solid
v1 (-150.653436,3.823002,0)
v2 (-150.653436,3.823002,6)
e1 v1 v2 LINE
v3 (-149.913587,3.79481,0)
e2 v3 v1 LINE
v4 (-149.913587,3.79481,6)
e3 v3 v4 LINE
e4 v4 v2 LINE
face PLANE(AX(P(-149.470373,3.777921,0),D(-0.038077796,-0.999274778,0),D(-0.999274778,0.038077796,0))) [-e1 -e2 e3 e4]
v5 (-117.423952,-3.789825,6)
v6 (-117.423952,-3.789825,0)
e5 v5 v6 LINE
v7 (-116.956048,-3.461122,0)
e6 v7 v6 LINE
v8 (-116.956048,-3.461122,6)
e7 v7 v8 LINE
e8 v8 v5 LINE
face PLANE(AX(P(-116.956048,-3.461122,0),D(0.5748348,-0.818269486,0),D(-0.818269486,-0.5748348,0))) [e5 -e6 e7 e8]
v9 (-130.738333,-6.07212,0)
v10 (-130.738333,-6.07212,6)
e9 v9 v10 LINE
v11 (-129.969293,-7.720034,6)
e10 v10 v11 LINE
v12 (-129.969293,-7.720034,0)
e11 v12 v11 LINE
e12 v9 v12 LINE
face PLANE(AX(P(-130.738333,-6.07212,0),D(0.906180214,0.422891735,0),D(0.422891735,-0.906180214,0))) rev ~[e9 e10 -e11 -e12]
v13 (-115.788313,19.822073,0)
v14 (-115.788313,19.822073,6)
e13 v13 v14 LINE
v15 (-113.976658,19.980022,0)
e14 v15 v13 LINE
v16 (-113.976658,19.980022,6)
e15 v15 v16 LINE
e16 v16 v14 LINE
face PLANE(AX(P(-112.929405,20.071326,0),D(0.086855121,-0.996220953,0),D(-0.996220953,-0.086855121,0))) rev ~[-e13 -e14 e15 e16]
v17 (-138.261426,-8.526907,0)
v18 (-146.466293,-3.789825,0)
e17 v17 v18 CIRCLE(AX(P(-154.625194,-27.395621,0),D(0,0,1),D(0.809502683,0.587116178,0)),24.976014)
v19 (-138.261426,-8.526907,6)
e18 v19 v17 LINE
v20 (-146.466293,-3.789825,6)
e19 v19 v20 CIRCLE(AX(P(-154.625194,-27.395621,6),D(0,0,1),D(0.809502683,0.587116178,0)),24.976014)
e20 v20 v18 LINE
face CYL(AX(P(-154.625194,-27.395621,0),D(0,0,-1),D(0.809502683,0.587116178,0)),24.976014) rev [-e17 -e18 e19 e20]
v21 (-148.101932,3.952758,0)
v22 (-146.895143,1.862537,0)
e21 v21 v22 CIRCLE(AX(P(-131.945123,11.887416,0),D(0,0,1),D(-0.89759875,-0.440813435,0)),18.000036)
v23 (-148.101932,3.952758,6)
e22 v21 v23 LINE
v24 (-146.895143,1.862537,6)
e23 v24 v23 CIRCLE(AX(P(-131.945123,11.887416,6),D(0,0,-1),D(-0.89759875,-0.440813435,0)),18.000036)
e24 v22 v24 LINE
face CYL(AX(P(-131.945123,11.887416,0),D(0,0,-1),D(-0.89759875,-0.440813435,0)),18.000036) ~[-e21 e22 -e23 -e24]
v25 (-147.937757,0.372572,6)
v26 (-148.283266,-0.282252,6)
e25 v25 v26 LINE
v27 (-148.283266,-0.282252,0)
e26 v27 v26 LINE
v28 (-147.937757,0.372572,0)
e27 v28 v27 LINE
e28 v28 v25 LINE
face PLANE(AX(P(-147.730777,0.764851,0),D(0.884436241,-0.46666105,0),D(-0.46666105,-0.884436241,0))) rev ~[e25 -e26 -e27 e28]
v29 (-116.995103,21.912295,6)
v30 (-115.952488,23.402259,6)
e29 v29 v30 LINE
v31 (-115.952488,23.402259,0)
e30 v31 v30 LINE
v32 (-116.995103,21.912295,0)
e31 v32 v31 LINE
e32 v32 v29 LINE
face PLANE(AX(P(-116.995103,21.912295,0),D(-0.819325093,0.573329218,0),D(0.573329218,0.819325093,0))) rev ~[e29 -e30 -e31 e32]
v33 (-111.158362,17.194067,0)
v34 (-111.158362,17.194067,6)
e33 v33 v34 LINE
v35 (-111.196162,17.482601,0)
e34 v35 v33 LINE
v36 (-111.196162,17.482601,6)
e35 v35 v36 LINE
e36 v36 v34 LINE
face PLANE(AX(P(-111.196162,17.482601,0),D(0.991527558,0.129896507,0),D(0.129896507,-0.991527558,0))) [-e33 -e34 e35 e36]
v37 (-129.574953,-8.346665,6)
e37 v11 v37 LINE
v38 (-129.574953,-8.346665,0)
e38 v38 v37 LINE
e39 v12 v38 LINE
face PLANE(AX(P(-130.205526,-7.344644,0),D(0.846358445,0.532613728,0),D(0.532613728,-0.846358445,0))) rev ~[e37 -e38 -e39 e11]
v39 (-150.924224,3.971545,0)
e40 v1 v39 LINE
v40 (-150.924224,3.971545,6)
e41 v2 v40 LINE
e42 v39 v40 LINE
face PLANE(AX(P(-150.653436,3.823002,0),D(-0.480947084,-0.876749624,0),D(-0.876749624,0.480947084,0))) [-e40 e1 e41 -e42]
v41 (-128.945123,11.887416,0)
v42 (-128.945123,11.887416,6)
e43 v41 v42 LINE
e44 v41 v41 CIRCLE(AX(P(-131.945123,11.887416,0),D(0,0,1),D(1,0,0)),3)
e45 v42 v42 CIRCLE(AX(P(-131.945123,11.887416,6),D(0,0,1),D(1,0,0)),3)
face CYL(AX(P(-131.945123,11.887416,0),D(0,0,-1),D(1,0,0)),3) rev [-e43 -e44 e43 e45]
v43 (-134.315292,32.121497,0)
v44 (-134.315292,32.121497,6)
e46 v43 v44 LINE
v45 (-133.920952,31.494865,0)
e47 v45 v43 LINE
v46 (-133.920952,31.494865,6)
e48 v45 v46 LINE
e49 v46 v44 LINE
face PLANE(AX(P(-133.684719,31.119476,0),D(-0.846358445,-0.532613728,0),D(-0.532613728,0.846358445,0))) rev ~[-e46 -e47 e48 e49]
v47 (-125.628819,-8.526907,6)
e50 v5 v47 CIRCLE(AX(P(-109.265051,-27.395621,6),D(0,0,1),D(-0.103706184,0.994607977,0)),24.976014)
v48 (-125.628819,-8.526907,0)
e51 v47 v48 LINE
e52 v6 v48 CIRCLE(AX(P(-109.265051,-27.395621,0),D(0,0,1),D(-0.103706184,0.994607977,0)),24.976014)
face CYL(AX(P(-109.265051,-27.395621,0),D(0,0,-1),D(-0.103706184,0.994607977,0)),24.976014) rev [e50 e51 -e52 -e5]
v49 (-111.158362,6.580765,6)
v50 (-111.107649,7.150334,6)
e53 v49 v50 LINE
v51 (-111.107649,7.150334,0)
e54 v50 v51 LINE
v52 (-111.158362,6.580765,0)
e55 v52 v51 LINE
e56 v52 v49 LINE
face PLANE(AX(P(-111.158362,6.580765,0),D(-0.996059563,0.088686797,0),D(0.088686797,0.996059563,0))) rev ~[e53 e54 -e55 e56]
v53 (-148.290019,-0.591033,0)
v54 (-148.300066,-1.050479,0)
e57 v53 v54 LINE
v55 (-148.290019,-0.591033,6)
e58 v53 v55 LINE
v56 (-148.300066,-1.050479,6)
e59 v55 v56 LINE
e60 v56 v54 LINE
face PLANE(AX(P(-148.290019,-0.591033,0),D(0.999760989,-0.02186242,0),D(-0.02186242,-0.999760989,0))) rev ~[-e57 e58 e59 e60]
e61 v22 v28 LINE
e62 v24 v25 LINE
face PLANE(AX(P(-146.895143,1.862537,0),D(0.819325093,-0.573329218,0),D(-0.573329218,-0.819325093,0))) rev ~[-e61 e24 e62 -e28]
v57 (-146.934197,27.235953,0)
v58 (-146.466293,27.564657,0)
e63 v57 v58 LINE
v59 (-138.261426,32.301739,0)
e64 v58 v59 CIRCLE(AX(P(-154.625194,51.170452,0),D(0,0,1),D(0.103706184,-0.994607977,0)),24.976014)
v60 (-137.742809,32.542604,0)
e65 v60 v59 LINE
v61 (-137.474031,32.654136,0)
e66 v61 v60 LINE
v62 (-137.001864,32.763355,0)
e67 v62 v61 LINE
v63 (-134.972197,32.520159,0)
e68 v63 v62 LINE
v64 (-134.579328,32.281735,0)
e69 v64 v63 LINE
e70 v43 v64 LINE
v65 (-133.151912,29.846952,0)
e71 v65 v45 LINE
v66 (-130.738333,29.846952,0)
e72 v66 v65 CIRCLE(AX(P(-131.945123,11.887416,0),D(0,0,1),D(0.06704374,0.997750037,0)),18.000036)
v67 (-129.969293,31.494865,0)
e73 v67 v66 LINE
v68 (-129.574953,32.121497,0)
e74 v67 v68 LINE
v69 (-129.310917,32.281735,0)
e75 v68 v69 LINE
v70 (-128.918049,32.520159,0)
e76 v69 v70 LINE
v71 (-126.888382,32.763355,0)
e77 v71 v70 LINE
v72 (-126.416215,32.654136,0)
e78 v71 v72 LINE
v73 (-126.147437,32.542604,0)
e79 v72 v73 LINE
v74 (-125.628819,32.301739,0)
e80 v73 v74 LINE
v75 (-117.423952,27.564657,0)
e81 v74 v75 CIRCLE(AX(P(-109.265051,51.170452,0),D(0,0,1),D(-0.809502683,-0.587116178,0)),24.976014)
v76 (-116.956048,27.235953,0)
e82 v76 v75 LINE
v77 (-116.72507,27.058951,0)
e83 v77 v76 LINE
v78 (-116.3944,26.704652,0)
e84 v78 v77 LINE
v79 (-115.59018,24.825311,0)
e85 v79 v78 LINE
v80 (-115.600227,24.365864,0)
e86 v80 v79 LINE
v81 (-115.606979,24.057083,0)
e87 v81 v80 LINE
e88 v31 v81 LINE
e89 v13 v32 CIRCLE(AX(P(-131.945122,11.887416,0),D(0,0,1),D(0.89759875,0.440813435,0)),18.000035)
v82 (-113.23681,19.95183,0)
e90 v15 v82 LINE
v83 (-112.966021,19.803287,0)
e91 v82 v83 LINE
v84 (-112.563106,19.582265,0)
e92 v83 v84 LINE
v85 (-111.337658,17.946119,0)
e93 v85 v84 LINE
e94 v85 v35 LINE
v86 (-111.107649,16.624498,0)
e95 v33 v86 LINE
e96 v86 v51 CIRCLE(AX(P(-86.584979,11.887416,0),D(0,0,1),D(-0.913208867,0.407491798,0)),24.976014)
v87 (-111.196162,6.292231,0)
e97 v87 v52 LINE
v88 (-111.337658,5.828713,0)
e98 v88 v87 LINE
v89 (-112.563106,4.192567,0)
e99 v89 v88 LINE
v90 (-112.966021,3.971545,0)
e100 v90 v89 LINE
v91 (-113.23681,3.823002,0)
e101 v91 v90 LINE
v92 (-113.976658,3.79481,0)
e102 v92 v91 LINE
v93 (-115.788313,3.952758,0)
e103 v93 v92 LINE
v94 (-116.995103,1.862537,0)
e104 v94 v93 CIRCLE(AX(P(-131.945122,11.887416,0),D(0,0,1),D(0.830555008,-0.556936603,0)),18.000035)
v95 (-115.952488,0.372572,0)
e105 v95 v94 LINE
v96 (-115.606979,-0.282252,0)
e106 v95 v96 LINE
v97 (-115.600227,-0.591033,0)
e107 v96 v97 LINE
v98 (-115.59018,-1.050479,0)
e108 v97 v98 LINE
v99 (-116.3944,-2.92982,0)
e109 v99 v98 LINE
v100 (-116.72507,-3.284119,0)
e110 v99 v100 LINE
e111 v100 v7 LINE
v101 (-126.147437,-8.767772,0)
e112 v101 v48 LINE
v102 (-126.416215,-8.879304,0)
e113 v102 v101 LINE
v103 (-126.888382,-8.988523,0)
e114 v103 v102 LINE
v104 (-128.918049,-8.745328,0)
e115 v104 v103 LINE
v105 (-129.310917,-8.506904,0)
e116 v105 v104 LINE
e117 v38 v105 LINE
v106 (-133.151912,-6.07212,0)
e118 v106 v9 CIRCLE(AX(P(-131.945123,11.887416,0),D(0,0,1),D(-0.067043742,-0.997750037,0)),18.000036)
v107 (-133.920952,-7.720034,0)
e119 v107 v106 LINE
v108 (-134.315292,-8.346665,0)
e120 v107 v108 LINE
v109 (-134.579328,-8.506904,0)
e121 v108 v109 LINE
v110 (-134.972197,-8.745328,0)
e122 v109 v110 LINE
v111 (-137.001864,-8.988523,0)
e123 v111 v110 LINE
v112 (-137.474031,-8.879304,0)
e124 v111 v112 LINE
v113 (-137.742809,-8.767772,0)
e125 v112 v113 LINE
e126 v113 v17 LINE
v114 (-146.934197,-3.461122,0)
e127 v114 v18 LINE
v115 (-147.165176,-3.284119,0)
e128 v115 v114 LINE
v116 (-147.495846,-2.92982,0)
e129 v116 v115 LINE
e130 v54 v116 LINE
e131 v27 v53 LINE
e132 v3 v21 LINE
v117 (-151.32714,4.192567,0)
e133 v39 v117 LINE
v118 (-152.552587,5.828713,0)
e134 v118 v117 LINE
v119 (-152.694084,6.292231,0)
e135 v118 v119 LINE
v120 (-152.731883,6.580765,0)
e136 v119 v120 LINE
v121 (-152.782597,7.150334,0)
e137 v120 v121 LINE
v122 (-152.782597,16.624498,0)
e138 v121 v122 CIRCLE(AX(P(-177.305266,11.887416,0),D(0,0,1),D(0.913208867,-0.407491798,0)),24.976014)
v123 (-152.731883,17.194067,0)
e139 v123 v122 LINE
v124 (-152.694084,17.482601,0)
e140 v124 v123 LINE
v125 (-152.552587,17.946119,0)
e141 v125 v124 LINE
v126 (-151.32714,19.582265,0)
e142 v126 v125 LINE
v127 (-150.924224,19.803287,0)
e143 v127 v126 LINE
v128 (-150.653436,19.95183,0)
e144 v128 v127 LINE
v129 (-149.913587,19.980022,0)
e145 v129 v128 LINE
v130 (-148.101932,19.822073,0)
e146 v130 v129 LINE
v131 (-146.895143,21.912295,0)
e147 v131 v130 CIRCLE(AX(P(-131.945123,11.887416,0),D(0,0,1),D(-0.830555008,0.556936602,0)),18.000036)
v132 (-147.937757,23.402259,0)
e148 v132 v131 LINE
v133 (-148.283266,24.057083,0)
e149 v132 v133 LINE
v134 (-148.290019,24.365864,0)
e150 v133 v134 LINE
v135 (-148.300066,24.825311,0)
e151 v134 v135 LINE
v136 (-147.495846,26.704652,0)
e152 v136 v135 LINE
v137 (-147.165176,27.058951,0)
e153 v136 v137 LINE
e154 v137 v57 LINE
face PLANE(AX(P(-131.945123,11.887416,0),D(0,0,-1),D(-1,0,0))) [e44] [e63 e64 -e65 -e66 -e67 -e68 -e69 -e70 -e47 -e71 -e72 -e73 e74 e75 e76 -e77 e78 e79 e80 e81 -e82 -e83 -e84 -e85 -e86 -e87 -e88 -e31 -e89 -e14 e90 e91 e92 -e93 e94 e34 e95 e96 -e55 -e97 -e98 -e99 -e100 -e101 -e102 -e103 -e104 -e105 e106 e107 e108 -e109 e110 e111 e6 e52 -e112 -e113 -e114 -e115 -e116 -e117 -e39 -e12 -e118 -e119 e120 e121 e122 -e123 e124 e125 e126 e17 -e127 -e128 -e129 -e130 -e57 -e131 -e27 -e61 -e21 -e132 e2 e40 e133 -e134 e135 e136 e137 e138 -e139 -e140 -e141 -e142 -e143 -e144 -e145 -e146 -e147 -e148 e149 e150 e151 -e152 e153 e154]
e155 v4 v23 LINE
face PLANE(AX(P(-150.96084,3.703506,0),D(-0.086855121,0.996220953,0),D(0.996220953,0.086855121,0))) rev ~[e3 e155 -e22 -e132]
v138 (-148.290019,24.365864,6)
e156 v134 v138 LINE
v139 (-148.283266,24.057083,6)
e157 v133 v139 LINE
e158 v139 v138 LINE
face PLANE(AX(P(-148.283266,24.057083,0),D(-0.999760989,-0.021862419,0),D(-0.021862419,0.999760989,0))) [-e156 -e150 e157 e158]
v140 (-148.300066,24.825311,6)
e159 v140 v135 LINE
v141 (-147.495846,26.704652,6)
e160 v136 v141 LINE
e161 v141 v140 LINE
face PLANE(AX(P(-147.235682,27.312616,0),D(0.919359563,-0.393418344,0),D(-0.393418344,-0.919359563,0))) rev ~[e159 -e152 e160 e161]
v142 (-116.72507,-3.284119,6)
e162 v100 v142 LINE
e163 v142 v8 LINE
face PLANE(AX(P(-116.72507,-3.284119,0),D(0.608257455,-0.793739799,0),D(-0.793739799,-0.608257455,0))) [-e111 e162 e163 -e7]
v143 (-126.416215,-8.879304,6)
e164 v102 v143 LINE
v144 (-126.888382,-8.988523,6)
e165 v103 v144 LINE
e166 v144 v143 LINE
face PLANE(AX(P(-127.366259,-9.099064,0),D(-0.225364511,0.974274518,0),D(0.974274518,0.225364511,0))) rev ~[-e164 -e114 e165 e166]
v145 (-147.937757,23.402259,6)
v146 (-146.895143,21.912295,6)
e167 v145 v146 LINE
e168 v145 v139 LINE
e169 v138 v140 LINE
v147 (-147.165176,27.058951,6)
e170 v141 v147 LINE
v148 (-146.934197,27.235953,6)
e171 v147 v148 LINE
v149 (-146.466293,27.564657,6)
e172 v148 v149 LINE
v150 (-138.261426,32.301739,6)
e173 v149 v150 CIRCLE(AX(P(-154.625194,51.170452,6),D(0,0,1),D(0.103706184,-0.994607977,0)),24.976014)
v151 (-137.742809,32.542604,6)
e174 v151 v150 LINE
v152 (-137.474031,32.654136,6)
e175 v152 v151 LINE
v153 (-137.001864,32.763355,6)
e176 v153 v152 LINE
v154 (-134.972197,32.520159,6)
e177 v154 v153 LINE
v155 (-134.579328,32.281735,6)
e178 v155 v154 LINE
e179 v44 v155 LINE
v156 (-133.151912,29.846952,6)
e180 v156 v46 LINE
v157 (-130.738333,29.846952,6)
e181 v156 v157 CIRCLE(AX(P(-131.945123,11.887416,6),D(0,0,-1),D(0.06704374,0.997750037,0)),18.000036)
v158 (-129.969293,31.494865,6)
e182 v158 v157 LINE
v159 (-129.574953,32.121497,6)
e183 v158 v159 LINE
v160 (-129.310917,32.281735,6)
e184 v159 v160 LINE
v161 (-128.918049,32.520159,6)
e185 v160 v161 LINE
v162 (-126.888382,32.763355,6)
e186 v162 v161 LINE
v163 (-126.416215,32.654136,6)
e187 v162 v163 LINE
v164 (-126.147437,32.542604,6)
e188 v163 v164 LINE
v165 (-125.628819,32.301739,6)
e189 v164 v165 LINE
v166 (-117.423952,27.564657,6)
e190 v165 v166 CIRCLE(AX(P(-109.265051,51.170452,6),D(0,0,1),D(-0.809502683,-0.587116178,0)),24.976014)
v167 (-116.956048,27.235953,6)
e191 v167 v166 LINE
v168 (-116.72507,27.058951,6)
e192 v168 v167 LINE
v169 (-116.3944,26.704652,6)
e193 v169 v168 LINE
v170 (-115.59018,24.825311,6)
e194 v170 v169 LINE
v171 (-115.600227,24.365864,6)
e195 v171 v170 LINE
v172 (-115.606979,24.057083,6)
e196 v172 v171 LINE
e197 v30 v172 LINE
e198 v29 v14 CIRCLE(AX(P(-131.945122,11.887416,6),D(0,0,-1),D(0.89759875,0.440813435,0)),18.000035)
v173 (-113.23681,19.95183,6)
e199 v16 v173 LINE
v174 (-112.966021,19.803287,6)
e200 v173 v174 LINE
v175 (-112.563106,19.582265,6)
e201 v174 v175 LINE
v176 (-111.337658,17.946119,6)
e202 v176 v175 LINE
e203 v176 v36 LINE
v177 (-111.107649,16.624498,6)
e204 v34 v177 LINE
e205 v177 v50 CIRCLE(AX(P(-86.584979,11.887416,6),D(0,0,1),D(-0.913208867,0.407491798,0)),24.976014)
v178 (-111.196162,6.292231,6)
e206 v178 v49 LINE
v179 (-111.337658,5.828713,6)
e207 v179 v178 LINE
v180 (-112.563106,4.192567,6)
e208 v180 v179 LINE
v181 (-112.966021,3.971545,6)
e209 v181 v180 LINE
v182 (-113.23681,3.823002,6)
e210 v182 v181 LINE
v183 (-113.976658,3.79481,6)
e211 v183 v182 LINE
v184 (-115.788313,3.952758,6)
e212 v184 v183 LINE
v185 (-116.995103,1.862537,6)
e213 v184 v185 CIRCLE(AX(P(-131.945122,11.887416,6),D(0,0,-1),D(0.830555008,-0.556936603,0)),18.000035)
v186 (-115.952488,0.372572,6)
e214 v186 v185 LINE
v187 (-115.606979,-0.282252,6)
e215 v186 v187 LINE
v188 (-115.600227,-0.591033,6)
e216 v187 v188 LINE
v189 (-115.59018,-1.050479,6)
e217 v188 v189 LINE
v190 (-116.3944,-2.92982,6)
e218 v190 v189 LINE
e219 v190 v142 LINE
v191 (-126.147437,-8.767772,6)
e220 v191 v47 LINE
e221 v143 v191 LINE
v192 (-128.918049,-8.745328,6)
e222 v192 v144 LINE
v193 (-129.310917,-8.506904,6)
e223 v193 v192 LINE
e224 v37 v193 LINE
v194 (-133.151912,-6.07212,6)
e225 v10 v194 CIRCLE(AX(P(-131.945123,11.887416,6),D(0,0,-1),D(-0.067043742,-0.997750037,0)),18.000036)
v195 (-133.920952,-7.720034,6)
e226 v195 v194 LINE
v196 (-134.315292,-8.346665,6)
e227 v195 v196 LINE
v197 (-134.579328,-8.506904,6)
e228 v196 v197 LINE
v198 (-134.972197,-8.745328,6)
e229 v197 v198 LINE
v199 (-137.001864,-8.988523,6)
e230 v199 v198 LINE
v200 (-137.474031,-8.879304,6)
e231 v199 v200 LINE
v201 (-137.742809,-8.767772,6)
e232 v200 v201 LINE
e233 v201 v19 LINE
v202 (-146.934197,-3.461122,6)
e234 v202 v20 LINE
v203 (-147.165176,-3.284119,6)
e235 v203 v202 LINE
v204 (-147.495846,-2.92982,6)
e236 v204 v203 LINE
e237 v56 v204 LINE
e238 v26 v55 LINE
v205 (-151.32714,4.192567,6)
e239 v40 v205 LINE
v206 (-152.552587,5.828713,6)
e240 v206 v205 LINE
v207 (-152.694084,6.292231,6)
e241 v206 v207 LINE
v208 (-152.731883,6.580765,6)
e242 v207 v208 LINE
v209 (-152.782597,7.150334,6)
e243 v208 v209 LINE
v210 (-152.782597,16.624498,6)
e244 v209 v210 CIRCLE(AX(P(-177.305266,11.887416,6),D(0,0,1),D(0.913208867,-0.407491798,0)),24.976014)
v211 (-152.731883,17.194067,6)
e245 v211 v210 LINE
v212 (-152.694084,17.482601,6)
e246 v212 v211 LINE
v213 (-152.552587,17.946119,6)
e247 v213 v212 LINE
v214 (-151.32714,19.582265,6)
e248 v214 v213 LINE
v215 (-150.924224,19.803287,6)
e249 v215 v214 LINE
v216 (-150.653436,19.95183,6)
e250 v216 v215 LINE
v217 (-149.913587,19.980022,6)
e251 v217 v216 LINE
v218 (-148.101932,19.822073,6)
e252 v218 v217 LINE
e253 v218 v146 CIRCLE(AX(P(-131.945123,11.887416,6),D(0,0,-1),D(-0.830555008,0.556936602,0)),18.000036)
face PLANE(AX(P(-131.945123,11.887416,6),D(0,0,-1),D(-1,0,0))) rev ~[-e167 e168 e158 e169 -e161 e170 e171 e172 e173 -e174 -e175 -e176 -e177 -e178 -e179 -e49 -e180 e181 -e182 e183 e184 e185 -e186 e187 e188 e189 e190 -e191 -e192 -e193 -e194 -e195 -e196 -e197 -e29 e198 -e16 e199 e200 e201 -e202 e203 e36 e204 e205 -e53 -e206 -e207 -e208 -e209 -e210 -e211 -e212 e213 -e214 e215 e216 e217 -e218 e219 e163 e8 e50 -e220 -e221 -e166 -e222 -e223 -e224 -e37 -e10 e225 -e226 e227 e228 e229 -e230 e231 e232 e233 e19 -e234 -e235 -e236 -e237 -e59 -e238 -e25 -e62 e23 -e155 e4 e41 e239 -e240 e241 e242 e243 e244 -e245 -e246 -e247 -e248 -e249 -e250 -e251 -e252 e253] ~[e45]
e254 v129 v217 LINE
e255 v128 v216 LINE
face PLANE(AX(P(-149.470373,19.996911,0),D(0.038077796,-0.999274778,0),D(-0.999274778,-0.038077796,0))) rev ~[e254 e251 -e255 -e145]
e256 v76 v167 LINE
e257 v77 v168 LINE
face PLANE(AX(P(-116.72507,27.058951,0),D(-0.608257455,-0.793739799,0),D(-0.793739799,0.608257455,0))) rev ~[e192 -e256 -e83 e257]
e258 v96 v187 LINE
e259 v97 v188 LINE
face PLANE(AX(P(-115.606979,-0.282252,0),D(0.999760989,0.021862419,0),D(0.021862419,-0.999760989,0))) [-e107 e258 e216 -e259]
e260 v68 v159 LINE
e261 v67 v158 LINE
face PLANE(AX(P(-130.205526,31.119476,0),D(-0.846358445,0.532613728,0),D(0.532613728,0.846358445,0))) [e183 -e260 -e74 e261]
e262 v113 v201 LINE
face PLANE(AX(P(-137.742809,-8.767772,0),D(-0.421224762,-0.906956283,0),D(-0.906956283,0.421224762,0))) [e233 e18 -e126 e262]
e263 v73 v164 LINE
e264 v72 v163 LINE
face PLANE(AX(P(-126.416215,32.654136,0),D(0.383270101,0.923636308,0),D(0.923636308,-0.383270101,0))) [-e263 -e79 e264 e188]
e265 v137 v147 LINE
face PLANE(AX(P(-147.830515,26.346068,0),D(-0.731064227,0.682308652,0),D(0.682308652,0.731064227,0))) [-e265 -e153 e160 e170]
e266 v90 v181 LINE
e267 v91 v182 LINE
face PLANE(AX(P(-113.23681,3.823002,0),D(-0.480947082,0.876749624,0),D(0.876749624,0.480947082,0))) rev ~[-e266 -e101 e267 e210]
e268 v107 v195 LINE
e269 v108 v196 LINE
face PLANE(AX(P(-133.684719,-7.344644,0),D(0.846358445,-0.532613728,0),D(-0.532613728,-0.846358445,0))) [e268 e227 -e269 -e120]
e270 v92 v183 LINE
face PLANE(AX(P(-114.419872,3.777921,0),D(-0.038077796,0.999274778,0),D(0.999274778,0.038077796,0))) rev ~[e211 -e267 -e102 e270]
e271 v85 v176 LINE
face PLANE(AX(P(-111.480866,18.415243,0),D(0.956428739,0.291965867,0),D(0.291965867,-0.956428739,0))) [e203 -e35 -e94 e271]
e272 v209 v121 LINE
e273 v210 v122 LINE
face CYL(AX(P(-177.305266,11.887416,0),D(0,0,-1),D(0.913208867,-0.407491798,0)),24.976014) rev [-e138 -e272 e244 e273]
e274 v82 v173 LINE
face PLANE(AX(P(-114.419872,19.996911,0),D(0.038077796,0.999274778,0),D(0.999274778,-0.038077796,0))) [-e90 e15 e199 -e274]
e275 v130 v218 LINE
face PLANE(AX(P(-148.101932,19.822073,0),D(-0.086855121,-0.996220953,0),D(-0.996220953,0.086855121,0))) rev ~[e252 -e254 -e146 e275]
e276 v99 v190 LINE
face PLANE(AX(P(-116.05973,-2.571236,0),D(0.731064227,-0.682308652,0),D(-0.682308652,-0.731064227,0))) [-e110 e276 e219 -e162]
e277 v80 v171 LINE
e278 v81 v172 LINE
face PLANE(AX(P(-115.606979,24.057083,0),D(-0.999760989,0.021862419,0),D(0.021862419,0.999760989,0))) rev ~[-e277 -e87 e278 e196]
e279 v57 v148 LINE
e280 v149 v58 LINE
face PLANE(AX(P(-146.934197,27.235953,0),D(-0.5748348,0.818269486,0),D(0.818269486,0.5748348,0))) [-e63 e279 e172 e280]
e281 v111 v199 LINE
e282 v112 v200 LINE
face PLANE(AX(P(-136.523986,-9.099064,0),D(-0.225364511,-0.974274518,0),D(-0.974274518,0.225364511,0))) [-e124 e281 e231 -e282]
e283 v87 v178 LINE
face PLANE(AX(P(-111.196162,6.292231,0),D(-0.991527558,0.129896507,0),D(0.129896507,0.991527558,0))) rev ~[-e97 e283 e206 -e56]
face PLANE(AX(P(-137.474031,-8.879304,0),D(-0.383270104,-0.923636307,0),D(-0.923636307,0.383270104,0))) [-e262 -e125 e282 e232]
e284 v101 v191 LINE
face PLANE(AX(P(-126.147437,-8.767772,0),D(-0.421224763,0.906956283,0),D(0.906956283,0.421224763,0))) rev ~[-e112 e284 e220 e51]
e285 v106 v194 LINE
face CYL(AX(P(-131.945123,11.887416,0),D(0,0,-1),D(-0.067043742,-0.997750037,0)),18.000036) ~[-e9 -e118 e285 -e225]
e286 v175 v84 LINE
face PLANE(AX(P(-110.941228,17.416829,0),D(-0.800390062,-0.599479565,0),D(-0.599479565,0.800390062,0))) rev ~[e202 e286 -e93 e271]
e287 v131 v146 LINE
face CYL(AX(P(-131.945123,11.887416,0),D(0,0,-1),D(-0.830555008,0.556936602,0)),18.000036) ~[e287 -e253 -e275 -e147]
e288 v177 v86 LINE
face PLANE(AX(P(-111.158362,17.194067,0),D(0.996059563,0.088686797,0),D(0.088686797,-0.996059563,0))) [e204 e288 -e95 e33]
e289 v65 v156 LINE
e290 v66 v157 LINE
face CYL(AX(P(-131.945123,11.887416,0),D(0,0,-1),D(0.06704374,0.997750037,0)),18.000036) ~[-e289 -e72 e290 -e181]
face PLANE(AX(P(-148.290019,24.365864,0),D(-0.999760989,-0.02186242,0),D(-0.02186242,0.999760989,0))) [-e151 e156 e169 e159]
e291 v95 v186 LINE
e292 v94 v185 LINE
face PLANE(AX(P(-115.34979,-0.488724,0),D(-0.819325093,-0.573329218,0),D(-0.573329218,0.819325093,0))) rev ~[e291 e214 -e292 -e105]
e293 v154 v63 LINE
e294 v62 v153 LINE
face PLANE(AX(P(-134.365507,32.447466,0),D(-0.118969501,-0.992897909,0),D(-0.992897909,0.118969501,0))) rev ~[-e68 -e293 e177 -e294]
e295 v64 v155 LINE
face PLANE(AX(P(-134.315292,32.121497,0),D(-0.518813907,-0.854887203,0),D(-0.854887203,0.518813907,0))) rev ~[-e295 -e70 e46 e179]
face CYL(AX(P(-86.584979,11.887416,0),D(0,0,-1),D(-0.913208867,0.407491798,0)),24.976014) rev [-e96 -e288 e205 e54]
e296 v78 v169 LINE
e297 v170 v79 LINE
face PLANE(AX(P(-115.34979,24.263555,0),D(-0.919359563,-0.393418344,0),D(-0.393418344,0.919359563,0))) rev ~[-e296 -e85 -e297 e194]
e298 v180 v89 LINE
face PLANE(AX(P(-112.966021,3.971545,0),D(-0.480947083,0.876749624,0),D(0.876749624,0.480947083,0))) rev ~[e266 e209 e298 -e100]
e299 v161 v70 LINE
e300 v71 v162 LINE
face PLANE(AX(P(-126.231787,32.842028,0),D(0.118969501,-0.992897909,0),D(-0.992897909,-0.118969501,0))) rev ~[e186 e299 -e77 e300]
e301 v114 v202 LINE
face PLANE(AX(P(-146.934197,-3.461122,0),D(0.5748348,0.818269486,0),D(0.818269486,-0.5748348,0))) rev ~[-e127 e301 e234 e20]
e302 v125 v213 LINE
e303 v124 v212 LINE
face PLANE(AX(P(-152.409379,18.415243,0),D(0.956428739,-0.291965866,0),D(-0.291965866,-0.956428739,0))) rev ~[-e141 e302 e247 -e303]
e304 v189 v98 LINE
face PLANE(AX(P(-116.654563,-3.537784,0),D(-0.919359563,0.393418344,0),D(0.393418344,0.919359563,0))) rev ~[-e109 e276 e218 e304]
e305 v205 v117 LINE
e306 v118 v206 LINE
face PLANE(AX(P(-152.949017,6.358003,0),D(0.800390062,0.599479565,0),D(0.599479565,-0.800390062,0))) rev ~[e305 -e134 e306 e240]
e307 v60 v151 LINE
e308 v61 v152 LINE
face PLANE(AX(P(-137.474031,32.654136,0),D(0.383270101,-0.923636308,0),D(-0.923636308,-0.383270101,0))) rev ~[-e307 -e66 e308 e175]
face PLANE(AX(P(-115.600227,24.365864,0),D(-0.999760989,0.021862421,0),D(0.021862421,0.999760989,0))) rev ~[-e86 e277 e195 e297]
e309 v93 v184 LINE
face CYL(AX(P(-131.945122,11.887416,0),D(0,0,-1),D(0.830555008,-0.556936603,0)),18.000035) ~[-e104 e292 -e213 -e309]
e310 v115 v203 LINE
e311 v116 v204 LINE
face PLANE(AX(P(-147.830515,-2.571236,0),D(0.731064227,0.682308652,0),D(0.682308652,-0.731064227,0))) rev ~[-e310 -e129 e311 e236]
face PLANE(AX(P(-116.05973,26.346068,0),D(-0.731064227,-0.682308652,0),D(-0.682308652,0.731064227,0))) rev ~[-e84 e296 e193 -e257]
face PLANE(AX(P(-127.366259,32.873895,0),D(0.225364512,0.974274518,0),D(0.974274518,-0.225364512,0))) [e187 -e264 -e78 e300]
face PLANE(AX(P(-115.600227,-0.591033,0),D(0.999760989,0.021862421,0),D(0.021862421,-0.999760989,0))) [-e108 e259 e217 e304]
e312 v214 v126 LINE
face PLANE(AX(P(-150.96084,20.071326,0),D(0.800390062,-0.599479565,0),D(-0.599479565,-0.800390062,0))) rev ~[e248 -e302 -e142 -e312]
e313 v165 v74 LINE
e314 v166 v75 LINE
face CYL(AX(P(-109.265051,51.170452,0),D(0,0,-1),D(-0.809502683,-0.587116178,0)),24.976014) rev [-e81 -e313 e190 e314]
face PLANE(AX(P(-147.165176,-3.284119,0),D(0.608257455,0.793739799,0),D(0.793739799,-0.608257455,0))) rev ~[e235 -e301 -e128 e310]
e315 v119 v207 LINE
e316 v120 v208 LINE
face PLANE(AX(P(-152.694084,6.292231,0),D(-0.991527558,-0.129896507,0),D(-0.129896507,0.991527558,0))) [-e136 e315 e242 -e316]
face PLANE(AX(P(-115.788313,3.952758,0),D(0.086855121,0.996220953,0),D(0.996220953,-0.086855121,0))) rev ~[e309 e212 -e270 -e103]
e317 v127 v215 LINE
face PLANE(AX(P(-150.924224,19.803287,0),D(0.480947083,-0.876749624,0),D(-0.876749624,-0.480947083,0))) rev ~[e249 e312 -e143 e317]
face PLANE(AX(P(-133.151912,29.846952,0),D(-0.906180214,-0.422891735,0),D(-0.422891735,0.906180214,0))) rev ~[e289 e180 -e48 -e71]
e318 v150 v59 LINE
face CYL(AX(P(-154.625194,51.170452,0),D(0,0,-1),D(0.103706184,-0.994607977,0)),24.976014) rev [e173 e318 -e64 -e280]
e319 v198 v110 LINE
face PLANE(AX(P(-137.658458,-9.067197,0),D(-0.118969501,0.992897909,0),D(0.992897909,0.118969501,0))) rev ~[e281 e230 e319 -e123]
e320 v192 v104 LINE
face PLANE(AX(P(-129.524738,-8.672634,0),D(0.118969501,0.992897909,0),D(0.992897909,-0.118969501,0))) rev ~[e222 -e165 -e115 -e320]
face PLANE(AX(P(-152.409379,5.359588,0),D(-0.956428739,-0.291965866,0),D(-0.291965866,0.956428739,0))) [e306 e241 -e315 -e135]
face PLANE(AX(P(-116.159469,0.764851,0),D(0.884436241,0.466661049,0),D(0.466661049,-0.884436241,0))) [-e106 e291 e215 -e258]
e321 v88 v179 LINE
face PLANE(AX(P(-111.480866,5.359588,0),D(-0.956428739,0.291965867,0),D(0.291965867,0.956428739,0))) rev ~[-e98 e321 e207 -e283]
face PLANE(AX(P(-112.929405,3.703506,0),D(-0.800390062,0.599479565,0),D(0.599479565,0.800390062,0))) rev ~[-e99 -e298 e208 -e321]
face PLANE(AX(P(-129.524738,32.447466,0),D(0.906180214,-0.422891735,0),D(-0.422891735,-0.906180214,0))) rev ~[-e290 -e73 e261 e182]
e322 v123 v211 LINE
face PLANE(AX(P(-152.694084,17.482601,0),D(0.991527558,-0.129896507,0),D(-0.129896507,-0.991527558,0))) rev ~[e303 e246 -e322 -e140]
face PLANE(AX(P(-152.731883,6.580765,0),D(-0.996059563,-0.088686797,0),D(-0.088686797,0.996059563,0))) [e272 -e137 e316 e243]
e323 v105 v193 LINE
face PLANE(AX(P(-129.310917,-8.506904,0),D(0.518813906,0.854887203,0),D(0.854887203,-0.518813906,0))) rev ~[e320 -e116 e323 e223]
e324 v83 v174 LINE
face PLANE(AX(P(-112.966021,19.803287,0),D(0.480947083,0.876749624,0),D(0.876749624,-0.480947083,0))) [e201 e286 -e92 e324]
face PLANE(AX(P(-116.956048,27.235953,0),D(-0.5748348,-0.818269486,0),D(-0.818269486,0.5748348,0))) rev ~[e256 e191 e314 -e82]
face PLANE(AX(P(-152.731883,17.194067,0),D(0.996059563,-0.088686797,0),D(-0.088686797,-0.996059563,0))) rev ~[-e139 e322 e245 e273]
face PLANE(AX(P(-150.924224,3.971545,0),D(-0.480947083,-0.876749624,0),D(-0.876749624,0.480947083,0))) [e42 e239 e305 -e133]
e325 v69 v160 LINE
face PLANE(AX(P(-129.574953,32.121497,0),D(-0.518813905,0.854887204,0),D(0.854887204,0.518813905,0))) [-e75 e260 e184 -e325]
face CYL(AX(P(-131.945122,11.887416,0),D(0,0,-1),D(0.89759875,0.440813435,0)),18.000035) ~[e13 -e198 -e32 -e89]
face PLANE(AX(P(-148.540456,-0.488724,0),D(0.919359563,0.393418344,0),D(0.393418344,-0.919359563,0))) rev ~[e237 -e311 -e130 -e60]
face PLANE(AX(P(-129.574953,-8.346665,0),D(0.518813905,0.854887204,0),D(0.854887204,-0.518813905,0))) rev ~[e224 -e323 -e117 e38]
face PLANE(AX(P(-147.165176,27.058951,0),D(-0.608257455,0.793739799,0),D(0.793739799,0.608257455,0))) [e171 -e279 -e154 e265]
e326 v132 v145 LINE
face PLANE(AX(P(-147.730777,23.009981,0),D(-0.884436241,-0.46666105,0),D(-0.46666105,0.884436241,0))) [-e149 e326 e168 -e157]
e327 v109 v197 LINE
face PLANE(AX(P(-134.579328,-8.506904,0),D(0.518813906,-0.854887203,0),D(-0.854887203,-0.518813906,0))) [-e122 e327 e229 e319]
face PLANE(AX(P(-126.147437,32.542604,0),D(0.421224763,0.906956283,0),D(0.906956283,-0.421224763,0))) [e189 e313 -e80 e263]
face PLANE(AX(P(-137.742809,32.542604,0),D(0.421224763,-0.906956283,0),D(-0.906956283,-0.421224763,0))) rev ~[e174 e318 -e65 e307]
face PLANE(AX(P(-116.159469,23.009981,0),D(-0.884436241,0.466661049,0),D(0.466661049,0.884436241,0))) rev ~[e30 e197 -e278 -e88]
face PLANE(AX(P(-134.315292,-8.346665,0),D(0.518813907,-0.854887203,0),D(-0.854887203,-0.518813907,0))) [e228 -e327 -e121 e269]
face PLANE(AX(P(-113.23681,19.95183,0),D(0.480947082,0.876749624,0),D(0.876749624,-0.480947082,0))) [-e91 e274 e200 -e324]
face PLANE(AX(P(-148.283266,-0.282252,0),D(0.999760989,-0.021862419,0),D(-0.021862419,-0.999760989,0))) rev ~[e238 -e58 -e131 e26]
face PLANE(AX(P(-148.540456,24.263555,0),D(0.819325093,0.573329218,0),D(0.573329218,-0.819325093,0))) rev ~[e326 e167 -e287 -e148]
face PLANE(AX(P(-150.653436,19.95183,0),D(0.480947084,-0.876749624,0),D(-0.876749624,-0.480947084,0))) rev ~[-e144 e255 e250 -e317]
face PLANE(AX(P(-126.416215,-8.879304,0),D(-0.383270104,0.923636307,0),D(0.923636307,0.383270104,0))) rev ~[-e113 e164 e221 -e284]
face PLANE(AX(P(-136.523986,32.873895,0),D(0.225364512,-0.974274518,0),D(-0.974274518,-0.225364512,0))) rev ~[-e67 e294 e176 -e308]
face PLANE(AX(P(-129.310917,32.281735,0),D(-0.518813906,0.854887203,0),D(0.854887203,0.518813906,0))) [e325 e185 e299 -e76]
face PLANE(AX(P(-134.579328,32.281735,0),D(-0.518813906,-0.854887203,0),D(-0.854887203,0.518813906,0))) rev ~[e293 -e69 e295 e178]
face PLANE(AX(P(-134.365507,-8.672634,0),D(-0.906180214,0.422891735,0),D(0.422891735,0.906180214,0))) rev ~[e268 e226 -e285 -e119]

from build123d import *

# Parameters (mm, degrees)
SKETCH1_R           = 3
BOSS_EXTRUDE2_DEPTH = 6
CUT_EXTRUDE1_DEPTH  = 7
CUT_EXTRUDE2_DEPTH  = 7


with BuildPart() as part:
    # Sketch1 → Boss-Extrude2 (new body)
    with BuildSketch(Plane.XY):
        with BuildLine():
            Line((-129.483201213, -12.731798863), (-129.756040866, -10.003402327))
            ThreePointArc((-129.756040866, -10.003402327), (-131.945122685, -10.112584142), (-134.134204503, -10.003402327))
            Line((-134.134204503, -10.003402327), (-134.407044157, -12.731798863))
            ThreePointArc((-134.407044157, -12.731798863), (-142.137187462, -5.76575817), (-152.035027318, -2.554278039))
            Line((-152.035027318, -2.554278039), (-149.808586433, -0.9537937))
            ThreePointArc((-149.808586433, -0.9537937), (-150.997681568, 0.887415858), (-151.997668251, 2.837807232))
            Line((-151.997668251, 2.837807232), (-154.49694879, 1.709895035))
            ThreePointArc((-154.49694879, 1.709895035), (-152.329252239, 11.887415858), (-154.49694879, 22.064936682))
            Line((-154.49694879, 22.064936682), (-151.997668251, 20.937024485))
            ThreePointArc((-151.997668251, 20.937024485), (-150.997681568, 22.887415858), (-149.808586433, 24.728625416))
            Line((-149.808586433, 24.728625416), (-152.035027318, 26.329109756))
            ThreePointArc((-152.035027318, 26.329109756), (-142.137187462, 29.540589886), (-134.407044157, 36.506630579))
            Line((-134.407044157, 36.506630579), (-134.134204503, 33.778234043))
            ThreePointArc((-134.134204503, 33.778234043), (-131.945122685, 33.887415858), (-129.756040866, 33.778234043))
            Line((-129.756040866, 33.778234043), (-129.483201213, 36.506630579))
            ThreePointArc((-129.483201213, 36.506630579), (-121.753057907, 29.540589886), (-111.855218051, 26.329109756))
            Line((-111.855218051, 26.329109756), (-114.081658936, 24.728625416))
            ThreePointArc((-114.081658936, 24.728625416), (-112.892563801, 22.887415858), (-111.892577118, 20.937024485))
            Line((-111.892577118, 20.937024485), (-109.393296579, 22.064936682))
            ThreePointArc((-109.393296579, 22.064936682), (-111.56099313, 11.887415858), (-109.393296579, 1.709895035))
            Line((-109.393296579, 1.709895035), (-111.892577118, 2.837807232))
            ThreePointArc((-111.892577118, 2.837807232), (-112.892563801, 0.887415858), (-114.081658936, -0.9537937))
            Line((-114.081658936, -0.9537937), (-111.855218051, -2.554278039))
            ThreePointArc((-111.855218051, -2.554278039), (-121.753057907, -5.76575817), (-129.483201213, -12.731798863))
        make_face()
        with Locations((-131.945122685, 11.887415858)):
            Circle(SKETCH1_R, mode=Mode.SUBTRACT)
    extrude(amount=BOSS_EXTRUDE2_DEPTH)

    # Sketch2 → Cut-Extrude1 (cut, through all)
    with BuildSketch(Plane(origin=(0, 0, 0), x_dir=(-1, 0, 0), z_dir=(0, 0, -1))):
        with BuildLine():
            ThreePointArc((130.738332945, 29.846952186), (131.945122685, 29.887451596), (133.151912424, 29.846952186))
            Line((133.151912424, 29.846952186), (134.365507242, 32.447465558))
            Line((134.365507242, 32.447465558), (137.658457935, 32.842028481))
            ThreePointArc((137.658457935, 32.842028481), (135.942681801, 34.594415702), (134.407044157, 36.506630579))
            Line((134.407044157, 36.506630579), (134.134204503, 33.778234043))
            ThreePointArc((134.134204503, 33.778234043), (131.945122685, 33.887415858), (129.756040866, 33.778234043))
            Line((129.756040866, 33.778234043), (129.483201213, 36.506630579))
            ThreePointArc((129.483201213, 36.506630579), (127.947563568, 34.594415702), (126.231787434, 32.842028481))
            Line((126.231787434, 32.842028481), (129.524738127, 32.447465558))
            Line((129.524738127, 32.447465558), (130.738332945, 29.846952186))
        make_face()
        with BuildLine():
            Line((148.540455749, 24.263555222), (146.895142515, 21.912294593))
            ThreePointArc((146.895142515, 21.912294593), (147.533610903, 20.887433727), (148.101932254, 19.82207345))
            Line((148.101932254, 19.82207345), (150.960840307, 20.071326194))
            Line((150.960840307, 20.071326194), (152.949017168, 17.416828703))
            ThreePointArc((152.949017168, 17.416828703), (153.608740951, 19.778928032), (154.49694879, 22.064936682))
            Line((154.49694879, 22.064936682), (151.997668251, 20.937024485))
            ThreePointArc((151.997668251, 20.937024485), (150.997681568, 22.887415858), (149.808586433, 24.728625416))
            Line((149.808586433, 24.728625416), (152.035027318, 26.329109756))
            ThreePointArc((152.035027318, 26.329109756), (149.611181835, 26.702903528), (147.235681918, 27.312615637))
            Line((147.235681918, 27.312615637), (148.540455749, 24.263555222))
        make_face()
        with BuildLine():
            ThreePointArc((115.788313115, 19.82207345), (116.356634466, 20.887433727), (116.995102855, 21.912294593))
            Line((116.995102855, 21.912294593), (115.34978962, 24.263555222))
            Line((115.34978962, 24.263555222), (116.654563452, 27.312615637))
            ThreePointArc((116.654563452, 27.312615637), (114.279063535, 26.702903528), (111.855218051, 26.329109756))
            Line((111.855218051, 26.329109756), (114.081658936, 24.728625416))
            ThreePointArc((114.081658936, 24.728625416), (112.892563801, 22.887415858), (111.892577118, 20.937024485))
            Line((111.892577118, 20.937024485), (109.393296579, 22.064936682))
            ThreePointArc((109.393296579, 22.064936682), (110.281504418, 19.778928032), (110.941228201, 17.416828703))
            Line((110.941228201, 17.416828703), (112.929405062, 20.071326194))
            Line((112.929405062, 20.071326194), (115.788313115, 19.82207345))
        make_face()
        with BuildLine():
            Line((150.960840307, 3.703505522), (148.101932254, 3.952758266))
            ThreePointArc((148.101932254, 3.952758266), (147.533610903, 2.887397989), (146.895142515, 1.862537123))
            Line((146.895142515, 1.862537123), (148.540455749, -0.488723506))
            Line((148.540455749, -0.488723506), (147.235681918, -3.537783921))
            ThreePointArc((147.235681918, -3.537783921), (149.611181835, -2.928071812), (152.035027318, -2.554278039))
            Line((152.035027318, -2.554278039), (149.808586433, -0.9537937))
            ThreePointArc((149.808586433, -0.9537937), (150.997681568, 0.887415858), (151.997668251, 2.837807232))
            Line((151.997668251, 2.837807232), (154.49694879, 1.709895035))
            ThreePointArc((154.49694879, 1.709895035), (153.608740951, 3.995903684), (152.949017168, 6.358003014))
            Line((152.949017168, 6.358003014), (150.960840307, 3.703505522))
        make_face()
        with BuildLine():
            ThreePointArc((116.995102855, 1.862537123), (116.356634466, 2.887397989), (115.788313115, 3.952758266))
            Line((115.788313115, 3.952758266), (112.929405062, 3.703505522))
            Line((112.929405062, 3.703505522), (110.941228201, 6.358003014))
            ThreePointArc((110.941228201, 6.358003014), (110.281504418, 3.995903684), (109.393296579, 1.709895035))
            Line((109.393296579, 1.709895035), (111.892577118, 2.837807232))
            ThreePointArc((111.892577118, 2.837807232), (112.892563801, 0.887415858), (114.081658936, -0.9537937))
            Line((114.081658936, -0.9537937), (111.855218051, -2.554278039))
            ThreePointArc((111.855218051, -2.554278039), (114.279063535, -2.928071812), (116.654563452, -3.537783921))
            Line((116.654563452, -3.537783921), (115.34978962, -0.488723506))
            Line((115.34978962, -0.488723506), (116.995102855, 1.862537123))
        make_face()
        with BuildLine():
            Line((134.365507242, -8.672633842), (133.151912424, -6.072120469))
            ThreePointArc((133.151912424, -6.072120469), (131.945122685, -6.11261988), (130.738332945, -6.072120469))
            Line((130.738332945, -6.072120469), (129.524738127, -8.672633842))
            Line((129.524738127, -8.672633842), (126.231787434, -9.067196765))
            ThreePointArc((126.231787434, -9.067196765), (127.947563568, -10.819583986), (129.483201213, -12.731798863))
            Line((129.483201213, -12.731798863), (129.756040866, -10.003402327))
            ThreePointArc((129.756040866, -10.003402327), (131.945122685, -10.112584142), (134.134204503, -10.003402327))
            Line((134.134204503, -10.003402327), (134.407044157, -12.731798863))
            ThreePointArc((134.407044157, -12.731798863), (135.942681801, -10.819583986), (137.658457935, -9.067196765))
            Line((137.658457935, -9.067196765), (134.365507242, -8.672633842))
        make_face()
    extrude(amount=-CUT_EXTRUDE1_DEPTH, mode=Mode.SUBTRACT)

    # Sketch5 → Cut-Extrude2 (cut, through all)
    with BuildSketch(Plane(origin=(0, 0, 0), x_dir=(-1, 0, 0), z_dir=(0, 0, -1))):
        Polygon((130.20552592, 31.11947551), (129.574953313, 32.121497093), (129.310917186, 32.281735325), (128.697286189, 32.654135676), (127.366259017, 32.873895382), (126.416214667, 32.654135676), (126.147436582, 32.54260411), (125.218815368, 32.111317334), (126.147436582, 39.612839074), (129.890239616, 35.341275211), align=None)
        Polygon((137.742808787, 39.612839074), (134.000005753, 35.341275211), (133.68471945, 31.11947551), (134.315292057, 32.121497093), (134.579328183, 32.281735325), (135.19295918, 32.654135676), (136.523986352, 32.873895382), (137.474030702, 32.654135676), (137.742808787, 32.54260411), (138.671430002, 32.111317334), align=None)
        Polygon((151.553547848, 19.458066854), (152.409378922, 18.415243363), (152.694083609, 17.482600968), (152.731883481, 17.194066536), (152.822688785, 16.174213586), (158.854886572, 20.729184019), (153.284202235, 21.834764595), (149.470373293, 19.996910693), (150.653435743, 19.951829588), (150.924224185, 19.803286711), align=None)
        Polygon((148.290018687, 24.365864472), (148.305711352, 25.083484679), (147.830515254, 26.346067876), (147.165175591, 27.058950565), (146.934197379, 27.235953431), (146.096381468, 27.824519606), (153.05720047, 30.771070914), (151.229319167, 25.393926474), (147.730776528, 23.009980675), (148.283266371, 24.057083363), align=None)
        Polygon((148.305711352, -1.308652963), (147.830515254, -2.57123616), (147.165175591, -3.284118849), (146.934197379, -3.461121715), (146.096381468, -4.04968789), (153.05720047, -6.996239198), (151.229319167, -1.619094757), (147.730776528, 0.764851041), (148.283266371, -0.282251647), (148.290018687, -0.591032756), align=None)
        Polygon((150.924224185, 3.971545005), (151.553547848, 4.316764862), (152.409378922, 5.359588353), (152.694083609, 6.292230748), (152.731883481, 6.58076518), (152.822688785, 7.60061813), (158.854886572, 3.045647698), (153.284202235, 1.940067121), (149.470373293, 3.777921023), (150.653435743, 3.823002128), align=None)
        Polygon((128.697286189, -8.87930396), (127.366259017, -9.099063665), (126.416214667, -8.87930396), (126.147436582, -8.767772393), (125.218815368, -8.336485618), (126.147436582, -15.838007358), (129.890239616, -11.566443495), (130.20552592, -7.344643794), (129.574953313, -8.346665377), (129.310917186, -8.506903609), align=None)
        Polygon((134.579328183, -8.506903609), (135.19295918, -8.87930396), (136.523986352, -9.099063665), (137.474030702, -8.87930396), (137.742808787, -8.767772393), (138.671430002, -8.336485618), (137.742808787, -15.838007358), (134.000005753, -11.566443495), (133.68471945, -7.344643794), (134.315292057, -8.346665377), align=None)
        Polygon((112.336697522, 4.316764862), (111.480866448, 5.359588353), (111.19616176, 6.292230748), (111.158361888, 6.58076518), (111.067556584, 7.60061813), (105.035358798, 3.045647698), (110.606043134, 1.940067121), (114.419872076, 3.777921023), (113.236809627, 3.823002128), (112.966021184, 3.971545005), align=None)
        Polygon((115.600226683, -0.591032756), (115.584534017, -1.308652963), (116.059730115, -2.57123616), (116.725069778, -3.284118849), (116.95604799, -3.461121715), (117.793863901, -4.04968789), (110.8330449, -6.996239198), (112.660926203, -1.619094757), (116.159468841, 0.764851041), (115.606978999, -0.282251647), align=None)
        Polygon((115.584534017, 25.083484679), (116.059730115, 26.346067876), (116.725069778, 27.058950565), (116.95604799, 27.235953431), (117.793863901, 27.824519606), (110.8330449, 30.771070914), (112.660926203, 25.393926474), (116.159468841, 23.009980675), (115.606978999, 24.057083363), (115.600226683, 24.365864472), align=None)
        Polygon((112.966021184, 19.803286711), (112.336697522, 19.458066854), (111.480866448, 18.415243363), (111.19616176, 17.482600968), (111.158361888, 17.194066536), (111.067556584, 16.174213586), (105.035358798, 20.729184019), (110.606043134, 21.834764595), (114.419872076, 19.996910693), (113.236809627, 19.951829588), align=None)
    extrude(amount=-CUT_EXTRUDE2_DEPTH, mode=Mode.SUBTRACT)


solid = part.part
